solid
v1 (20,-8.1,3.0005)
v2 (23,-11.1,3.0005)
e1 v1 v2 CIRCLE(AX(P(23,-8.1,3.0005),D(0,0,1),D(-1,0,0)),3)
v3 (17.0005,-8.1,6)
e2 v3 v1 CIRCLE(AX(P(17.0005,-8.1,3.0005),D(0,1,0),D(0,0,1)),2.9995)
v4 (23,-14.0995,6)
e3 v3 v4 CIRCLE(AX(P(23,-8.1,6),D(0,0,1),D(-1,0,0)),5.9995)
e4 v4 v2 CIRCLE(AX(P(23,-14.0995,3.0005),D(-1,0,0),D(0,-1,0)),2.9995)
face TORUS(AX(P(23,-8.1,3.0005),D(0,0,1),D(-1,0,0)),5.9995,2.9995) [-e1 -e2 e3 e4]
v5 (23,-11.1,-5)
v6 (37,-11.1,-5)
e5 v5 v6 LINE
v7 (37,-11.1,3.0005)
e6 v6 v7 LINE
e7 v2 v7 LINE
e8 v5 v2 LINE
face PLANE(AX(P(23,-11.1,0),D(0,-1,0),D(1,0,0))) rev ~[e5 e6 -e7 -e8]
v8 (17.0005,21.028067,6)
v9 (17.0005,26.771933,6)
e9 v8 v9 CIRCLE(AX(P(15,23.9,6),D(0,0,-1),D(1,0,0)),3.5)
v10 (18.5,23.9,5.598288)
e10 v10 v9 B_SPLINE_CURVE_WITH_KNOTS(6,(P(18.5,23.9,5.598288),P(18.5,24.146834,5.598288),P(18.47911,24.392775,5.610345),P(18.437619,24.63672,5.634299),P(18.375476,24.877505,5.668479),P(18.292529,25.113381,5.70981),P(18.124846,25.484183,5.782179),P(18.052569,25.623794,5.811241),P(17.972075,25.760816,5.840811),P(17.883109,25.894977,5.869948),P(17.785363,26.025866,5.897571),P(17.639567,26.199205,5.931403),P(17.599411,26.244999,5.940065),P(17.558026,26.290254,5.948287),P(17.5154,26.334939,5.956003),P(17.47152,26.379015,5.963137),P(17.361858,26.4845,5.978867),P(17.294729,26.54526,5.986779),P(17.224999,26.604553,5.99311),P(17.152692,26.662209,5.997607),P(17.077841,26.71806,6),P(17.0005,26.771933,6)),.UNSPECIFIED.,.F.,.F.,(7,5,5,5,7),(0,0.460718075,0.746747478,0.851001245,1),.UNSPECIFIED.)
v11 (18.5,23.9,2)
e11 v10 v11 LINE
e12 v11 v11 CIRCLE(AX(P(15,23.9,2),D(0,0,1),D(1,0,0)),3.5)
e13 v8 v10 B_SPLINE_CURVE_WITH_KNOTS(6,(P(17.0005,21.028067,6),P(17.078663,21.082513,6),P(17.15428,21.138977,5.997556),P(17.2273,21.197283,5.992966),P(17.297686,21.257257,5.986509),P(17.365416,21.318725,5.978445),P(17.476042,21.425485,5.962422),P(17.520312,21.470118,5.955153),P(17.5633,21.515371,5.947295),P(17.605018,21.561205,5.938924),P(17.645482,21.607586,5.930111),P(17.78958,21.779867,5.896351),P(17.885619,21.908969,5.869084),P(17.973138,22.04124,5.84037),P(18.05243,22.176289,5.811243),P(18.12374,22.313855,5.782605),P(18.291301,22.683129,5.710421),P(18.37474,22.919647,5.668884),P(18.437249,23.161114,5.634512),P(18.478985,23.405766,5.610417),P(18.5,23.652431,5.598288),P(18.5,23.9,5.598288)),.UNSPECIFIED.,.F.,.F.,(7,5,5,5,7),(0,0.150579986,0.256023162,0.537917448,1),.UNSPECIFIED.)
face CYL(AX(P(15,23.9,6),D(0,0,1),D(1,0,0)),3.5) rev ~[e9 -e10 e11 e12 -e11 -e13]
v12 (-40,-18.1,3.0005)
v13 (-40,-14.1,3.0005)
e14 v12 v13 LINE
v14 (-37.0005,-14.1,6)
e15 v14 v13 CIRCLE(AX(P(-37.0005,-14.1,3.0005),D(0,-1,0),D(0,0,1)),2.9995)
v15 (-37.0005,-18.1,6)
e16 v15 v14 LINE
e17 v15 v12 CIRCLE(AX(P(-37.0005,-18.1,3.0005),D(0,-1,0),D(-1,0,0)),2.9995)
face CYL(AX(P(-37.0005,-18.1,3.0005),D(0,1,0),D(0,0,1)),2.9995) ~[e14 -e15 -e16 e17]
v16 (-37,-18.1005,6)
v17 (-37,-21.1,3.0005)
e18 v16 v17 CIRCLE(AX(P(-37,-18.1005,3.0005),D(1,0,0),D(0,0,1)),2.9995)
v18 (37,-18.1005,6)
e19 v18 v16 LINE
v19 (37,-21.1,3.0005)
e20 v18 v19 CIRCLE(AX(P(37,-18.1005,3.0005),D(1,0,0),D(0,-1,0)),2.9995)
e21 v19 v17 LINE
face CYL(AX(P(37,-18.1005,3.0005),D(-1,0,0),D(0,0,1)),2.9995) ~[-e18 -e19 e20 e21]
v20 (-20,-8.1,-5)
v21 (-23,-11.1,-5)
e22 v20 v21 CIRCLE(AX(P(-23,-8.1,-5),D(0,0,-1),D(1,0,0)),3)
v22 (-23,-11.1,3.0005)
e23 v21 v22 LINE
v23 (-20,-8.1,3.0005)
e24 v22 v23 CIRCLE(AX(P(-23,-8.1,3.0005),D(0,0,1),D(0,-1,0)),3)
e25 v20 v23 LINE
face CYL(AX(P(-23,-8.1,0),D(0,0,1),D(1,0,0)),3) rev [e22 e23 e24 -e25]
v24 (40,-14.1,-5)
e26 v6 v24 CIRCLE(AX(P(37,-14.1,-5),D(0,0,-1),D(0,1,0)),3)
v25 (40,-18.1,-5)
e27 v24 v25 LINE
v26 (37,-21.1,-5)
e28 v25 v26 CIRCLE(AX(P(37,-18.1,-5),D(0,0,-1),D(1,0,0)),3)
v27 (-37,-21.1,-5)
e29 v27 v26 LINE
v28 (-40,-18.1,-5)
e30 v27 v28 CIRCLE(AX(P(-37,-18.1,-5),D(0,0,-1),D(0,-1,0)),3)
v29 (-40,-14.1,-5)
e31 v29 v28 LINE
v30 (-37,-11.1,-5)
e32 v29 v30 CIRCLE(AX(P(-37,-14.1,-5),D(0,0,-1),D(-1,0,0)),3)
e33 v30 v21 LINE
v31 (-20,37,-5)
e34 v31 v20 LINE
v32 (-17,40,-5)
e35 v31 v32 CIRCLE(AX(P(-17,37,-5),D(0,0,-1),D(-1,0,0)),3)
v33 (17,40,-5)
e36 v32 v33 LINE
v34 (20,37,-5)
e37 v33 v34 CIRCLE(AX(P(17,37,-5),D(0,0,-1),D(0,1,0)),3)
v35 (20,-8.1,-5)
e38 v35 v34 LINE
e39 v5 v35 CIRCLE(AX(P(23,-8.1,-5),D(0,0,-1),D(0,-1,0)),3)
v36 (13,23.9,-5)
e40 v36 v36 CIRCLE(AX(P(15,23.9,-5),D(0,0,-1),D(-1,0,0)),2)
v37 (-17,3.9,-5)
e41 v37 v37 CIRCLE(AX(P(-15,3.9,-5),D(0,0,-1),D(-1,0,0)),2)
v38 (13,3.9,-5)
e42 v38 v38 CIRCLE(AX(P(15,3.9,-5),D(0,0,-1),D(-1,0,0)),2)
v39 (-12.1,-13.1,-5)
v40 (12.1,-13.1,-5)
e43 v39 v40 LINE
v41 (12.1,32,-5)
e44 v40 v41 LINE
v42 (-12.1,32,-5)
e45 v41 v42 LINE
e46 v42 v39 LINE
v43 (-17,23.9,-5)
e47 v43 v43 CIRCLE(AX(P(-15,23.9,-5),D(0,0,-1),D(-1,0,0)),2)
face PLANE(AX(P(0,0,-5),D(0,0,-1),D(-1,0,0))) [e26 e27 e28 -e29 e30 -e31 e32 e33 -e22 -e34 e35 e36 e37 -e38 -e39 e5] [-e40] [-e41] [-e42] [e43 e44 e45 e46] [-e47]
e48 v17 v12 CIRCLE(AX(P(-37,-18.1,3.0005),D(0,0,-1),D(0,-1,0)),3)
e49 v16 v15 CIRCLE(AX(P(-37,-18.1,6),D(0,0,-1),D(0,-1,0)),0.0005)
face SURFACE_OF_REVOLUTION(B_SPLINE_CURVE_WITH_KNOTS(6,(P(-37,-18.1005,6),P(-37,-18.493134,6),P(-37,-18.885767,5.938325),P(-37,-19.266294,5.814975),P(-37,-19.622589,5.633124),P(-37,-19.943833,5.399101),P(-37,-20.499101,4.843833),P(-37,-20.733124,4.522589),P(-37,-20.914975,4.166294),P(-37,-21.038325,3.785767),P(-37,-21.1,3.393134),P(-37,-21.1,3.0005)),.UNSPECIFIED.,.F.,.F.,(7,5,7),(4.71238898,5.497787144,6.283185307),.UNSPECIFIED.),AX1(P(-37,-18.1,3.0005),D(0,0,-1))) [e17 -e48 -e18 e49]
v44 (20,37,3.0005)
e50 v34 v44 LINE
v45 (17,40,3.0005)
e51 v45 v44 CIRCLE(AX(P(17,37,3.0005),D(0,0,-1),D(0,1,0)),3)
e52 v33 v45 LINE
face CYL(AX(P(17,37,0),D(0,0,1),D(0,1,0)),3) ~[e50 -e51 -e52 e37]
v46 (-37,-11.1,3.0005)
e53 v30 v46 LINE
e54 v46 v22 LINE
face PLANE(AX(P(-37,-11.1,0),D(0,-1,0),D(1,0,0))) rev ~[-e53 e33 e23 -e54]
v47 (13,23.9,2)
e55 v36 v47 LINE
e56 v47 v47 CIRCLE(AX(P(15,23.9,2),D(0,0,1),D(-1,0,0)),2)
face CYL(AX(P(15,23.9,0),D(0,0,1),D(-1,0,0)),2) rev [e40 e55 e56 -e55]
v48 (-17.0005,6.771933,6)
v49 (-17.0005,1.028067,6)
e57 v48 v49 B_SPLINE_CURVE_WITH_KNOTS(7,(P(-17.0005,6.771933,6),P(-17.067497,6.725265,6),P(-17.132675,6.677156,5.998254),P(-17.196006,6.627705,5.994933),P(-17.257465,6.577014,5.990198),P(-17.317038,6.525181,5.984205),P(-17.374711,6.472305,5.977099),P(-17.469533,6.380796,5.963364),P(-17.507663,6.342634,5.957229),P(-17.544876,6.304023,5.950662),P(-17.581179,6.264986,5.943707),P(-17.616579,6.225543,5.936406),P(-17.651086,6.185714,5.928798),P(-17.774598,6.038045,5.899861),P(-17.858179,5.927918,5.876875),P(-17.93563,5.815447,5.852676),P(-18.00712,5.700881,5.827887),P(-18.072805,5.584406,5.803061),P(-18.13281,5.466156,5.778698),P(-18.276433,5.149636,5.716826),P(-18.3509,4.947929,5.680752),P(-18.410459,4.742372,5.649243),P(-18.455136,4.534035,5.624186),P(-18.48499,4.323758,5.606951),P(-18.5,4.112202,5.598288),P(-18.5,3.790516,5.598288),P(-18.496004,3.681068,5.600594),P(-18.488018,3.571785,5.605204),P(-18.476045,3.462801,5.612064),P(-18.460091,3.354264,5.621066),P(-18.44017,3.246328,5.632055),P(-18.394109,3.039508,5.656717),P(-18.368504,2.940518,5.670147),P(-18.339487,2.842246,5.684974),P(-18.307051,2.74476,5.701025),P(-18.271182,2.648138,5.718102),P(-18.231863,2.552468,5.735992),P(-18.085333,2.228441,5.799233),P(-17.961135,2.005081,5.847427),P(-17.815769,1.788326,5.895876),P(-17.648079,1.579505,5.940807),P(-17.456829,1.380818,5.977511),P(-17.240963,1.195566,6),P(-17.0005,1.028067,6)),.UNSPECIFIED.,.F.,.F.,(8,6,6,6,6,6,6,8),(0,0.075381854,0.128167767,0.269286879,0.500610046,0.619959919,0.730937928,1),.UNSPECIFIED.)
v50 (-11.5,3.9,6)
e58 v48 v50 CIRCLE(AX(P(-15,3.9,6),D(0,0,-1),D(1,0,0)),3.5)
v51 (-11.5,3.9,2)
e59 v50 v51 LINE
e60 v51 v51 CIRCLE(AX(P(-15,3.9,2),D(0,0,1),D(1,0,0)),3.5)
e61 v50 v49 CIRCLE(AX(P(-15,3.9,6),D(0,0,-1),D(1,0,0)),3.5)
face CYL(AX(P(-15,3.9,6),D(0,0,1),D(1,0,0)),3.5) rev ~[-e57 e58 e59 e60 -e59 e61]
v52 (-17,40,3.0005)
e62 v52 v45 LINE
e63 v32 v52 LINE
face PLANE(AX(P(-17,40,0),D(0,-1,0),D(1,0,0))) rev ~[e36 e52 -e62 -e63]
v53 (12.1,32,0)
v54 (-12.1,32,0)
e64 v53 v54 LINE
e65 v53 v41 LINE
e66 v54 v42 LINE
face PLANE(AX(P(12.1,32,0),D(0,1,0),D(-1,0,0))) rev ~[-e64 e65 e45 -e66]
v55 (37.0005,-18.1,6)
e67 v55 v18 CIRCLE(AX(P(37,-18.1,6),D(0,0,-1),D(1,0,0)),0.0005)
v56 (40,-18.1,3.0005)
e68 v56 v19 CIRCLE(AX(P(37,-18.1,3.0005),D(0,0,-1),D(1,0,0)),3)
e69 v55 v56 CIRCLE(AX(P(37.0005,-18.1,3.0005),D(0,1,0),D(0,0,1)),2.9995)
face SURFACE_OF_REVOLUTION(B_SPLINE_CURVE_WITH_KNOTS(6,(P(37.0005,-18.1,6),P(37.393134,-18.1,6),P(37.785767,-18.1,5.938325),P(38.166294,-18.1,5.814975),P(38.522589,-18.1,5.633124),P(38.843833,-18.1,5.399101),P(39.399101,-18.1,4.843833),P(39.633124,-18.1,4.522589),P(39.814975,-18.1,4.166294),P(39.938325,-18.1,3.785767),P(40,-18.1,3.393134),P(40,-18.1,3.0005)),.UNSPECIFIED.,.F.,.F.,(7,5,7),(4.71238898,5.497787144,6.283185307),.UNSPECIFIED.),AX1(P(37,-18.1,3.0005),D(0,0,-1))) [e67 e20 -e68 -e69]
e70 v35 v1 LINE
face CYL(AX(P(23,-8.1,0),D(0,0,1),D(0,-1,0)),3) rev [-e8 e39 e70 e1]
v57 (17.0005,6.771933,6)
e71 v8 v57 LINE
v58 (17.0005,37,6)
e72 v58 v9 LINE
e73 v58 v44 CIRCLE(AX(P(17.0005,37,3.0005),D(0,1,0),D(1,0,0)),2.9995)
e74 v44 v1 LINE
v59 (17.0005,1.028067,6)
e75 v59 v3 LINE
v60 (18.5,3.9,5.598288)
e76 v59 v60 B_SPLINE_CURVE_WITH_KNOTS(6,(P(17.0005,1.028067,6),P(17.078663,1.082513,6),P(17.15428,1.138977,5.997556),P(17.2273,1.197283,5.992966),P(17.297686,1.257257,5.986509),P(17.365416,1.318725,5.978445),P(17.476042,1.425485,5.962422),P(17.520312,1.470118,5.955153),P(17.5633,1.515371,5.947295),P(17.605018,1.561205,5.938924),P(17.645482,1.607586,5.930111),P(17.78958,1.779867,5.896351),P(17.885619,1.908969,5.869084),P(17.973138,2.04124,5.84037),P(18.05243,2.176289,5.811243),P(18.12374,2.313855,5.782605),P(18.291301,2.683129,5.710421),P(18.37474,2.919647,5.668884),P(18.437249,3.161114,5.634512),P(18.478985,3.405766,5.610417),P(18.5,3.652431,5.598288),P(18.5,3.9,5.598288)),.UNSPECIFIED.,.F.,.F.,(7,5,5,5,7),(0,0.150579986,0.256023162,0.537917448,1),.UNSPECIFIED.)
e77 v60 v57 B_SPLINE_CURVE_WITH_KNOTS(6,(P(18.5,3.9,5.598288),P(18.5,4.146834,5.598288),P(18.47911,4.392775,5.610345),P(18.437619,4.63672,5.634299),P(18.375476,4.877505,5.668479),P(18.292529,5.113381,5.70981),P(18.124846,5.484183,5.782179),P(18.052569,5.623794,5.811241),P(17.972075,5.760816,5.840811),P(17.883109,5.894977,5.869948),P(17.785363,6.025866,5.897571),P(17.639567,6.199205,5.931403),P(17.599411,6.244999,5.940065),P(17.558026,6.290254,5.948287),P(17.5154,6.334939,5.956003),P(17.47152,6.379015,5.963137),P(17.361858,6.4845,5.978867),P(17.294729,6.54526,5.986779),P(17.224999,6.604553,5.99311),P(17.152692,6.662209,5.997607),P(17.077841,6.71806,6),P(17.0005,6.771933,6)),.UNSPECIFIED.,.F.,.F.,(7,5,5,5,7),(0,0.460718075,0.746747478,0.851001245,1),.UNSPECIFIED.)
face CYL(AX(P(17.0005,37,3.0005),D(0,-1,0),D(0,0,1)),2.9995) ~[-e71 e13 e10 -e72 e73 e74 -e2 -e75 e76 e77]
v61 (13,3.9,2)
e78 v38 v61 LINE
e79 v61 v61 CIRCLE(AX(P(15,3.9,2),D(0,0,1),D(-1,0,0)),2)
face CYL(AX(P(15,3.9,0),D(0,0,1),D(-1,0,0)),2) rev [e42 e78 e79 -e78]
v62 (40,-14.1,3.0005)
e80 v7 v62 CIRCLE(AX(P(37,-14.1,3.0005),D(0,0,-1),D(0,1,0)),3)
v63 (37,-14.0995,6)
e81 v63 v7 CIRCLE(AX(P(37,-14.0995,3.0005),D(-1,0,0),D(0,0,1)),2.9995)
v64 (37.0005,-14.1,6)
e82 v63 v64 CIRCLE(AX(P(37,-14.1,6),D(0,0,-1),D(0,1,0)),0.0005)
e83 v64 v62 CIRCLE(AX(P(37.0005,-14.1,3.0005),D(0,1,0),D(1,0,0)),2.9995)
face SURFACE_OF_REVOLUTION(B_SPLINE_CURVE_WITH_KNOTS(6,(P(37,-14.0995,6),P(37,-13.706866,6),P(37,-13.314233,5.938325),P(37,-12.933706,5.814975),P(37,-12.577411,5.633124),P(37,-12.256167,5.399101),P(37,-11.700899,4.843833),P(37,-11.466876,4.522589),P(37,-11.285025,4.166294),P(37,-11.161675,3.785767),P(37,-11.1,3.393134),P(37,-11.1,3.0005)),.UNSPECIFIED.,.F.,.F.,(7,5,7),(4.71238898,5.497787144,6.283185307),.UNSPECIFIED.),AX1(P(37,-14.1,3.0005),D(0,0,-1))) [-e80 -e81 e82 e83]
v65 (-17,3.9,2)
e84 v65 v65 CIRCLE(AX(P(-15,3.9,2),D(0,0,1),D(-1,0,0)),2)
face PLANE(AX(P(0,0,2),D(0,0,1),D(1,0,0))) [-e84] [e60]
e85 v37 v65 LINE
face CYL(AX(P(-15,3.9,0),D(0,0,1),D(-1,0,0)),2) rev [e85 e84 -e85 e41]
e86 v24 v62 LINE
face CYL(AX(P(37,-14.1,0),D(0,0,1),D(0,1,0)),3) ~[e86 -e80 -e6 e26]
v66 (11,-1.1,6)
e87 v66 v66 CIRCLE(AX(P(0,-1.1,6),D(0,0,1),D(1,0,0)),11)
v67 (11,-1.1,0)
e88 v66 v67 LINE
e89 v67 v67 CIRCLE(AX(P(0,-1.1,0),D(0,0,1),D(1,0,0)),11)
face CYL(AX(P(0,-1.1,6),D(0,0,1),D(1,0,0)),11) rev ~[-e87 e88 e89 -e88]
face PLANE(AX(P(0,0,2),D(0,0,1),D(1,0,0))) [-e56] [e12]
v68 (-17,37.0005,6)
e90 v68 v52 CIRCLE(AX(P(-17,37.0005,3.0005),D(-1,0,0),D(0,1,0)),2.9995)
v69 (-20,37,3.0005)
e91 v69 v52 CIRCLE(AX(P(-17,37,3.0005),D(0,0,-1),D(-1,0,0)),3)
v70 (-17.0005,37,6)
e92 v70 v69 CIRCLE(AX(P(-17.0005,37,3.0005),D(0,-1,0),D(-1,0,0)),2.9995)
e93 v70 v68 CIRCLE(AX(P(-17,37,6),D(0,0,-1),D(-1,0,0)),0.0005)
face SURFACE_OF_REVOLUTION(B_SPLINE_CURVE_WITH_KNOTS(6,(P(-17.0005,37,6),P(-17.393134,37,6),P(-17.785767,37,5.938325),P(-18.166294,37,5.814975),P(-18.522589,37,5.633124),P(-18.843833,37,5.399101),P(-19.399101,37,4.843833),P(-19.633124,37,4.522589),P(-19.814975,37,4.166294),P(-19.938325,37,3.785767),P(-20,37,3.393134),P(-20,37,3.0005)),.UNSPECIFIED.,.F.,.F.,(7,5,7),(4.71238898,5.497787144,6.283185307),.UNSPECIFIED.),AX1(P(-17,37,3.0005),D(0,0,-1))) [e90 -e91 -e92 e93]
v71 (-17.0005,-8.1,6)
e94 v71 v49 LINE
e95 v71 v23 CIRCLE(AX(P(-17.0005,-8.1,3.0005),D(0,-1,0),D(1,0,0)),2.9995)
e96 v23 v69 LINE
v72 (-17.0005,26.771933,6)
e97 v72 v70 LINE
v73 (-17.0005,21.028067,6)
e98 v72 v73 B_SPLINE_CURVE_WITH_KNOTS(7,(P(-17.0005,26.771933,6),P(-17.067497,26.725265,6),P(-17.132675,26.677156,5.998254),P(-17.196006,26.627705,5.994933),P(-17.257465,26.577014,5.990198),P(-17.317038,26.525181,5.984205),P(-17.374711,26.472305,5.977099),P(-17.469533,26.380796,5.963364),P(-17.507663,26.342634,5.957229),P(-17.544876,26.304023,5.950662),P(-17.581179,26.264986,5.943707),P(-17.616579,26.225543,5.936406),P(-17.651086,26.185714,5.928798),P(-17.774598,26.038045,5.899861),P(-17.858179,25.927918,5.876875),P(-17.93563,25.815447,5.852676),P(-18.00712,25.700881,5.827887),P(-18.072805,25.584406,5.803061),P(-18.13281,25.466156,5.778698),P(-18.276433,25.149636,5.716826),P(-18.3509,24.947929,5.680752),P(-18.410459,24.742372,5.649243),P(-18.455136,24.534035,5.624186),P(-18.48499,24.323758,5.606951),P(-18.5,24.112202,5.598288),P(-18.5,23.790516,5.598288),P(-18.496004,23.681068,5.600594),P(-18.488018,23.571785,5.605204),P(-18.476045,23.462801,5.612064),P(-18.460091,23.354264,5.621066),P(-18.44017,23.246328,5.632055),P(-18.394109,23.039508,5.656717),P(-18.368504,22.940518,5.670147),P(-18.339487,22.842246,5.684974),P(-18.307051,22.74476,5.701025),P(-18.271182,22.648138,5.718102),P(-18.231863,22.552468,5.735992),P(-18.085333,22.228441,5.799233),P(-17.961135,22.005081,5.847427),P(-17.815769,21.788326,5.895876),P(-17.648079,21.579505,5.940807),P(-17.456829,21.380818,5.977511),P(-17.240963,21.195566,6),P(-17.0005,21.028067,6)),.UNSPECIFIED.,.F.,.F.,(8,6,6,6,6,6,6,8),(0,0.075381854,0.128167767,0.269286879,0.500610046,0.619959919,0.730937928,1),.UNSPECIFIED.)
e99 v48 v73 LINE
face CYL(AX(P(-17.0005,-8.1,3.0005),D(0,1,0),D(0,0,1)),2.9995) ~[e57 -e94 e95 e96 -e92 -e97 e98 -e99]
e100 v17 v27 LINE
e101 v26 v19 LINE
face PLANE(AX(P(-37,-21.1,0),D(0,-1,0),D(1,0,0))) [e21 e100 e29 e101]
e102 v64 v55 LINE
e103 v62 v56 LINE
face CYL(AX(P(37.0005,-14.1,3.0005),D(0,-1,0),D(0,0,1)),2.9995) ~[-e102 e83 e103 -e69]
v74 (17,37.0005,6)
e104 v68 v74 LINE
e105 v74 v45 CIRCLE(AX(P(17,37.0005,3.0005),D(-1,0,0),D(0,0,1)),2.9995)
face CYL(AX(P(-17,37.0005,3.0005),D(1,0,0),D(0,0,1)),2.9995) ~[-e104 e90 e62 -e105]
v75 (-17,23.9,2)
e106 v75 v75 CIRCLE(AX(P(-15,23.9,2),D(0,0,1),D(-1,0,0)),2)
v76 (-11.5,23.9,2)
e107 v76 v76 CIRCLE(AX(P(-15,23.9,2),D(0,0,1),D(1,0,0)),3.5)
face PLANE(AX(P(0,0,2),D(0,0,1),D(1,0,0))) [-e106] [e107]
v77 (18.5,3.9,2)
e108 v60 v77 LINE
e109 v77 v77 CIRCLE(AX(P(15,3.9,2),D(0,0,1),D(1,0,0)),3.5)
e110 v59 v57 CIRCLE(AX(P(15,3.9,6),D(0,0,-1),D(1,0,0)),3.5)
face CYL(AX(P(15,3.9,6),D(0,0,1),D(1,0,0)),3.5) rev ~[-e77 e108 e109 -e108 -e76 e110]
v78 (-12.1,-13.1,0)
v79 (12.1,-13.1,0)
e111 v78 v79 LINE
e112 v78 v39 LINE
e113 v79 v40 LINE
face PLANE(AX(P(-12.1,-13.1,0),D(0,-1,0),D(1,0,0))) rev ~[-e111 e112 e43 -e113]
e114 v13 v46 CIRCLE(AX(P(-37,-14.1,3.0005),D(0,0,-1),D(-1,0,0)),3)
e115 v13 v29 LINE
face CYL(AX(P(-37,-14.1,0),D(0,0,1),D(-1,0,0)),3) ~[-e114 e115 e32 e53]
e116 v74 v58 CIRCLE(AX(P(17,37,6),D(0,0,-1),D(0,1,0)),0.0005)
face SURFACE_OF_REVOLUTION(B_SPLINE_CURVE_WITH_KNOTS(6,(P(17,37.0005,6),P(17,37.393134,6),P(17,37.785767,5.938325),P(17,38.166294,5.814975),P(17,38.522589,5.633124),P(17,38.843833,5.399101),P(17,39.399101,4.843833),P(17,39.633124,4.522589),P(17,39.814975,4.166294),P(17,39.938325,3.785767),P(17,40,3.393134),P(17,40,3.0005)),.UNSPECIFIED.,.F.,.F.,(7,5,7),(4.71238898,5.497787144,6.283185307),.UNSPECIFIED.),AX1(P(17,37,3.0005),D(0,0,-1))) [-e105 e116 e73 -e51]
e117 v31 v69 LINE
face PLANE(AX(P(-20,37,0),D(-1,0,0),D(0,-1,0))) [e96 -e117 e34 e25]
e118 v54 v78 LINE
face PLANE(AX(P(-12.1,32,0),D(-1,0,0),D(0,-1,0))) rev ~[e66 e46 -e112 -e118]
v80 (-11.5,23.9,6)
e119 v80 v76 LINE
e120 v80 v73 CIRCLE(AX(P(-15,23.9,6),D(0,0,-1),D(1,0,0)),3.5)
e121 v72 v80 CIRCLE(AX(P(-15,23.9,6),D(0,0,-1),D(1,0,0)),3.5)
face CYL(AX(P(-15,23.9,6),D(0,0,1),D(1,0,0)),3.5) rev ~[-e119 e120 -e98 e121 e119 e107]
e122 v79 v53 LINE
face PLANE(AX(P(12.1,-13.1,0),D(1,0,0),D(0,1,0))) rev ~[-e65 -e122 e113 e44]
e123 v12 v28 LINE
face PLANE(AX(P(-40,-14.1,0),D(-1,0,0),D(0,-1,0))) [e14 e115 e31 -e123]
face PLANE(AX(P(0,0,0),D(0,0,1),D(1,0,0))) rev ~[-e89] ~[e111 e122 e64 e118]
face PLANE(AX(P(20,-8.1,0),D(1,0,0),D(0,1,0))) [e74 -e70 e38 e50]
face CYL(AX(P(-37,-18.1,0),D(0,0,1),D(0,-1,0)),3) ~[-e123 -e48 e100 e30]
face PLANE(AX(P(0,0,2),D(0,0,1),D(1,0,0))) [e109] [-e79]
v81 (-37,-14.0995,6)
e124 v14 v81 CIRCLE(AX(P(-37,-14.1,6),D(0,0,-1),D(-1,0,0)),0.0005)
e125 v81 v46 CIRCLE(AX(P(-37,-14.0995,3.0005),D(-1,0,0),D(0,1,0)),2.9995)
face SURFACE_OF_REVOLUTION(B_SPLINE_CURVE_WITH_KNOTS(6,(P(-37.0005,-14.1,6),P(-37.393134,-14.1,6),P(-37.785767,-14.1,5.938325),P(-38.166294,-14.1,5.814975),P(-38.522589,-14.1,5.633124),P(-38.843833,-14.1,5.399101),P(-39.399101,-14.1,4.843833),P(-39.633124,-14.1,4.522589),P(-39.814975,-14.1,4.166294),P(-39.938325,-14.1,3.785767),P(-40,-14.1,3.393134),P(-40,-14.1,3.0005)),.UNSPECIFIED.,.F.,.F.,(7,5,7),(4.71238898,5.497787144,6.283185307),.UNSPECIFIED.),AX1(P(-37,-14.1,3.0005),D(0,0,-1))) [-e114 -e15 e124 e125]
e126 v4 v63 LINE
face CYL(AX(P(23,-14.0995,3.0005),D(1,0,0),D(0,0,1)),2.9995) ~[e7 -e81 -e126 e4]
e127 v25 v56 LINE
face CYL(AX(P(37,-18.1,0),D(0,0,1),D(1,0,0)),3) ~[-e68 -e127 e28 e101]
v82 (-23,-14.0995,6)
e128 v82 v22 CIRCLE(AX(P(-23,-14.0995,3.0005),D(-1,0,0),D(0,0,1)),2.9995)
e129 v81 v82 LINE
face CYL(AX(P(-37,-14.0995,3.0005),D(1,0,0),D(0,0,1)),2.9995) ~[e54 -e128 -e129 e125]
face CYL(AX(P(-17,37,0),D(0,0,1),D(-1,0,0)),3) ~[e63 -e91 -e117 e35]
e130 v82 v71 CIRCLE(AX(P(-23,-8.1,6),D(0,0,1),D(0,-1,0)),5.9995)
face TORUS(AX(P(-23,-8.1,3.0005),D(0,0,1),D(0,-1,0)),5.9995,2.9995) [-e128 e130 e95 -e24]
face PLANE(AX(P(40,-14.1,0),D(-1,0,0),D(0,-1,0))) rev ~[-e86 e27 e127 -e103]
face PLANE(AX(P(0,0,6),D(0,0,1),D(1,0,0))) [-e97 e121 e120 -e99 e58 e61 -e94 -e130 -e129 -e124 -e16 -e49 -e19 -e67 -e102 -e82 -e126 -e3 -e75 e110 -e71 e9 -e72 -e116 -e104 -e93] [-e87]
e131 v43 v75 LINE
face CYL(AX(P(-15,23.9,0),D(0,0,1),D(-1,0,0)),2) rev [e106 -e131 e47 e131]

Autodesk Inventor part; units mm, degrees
ref_plane "YZ Plane" through (0, 0, 0) normal (1, 0, 0) x (0, 1, 0)
ref_plane "XZ Plane" through (0, 0, 0) normal (0, 1, 0) x (-1, 0, 0)
ref_plane "XY Plane" through (0, 0, 0) normal (0, 0, 1) x (1, 0, 0)
sketch "Sketch1" plane through (0, 0, 0) normal (0, 0, 1) x (1, 0, 0)
  line L0 (-40, -40) -> (40, -40)
  line L1 (40, -40) -> (40, 40)
  line L2 (40, 40) -> (-40, 40)
  line L3 (-40, 40) -> (-40, -40)
  line L4 (-40, -40) -> (40, 40) construction
  line L5 (40, -40) -> (-40, 40) construction
  point P0 (0, 0)
  dimension "d0" = 80
  dimension "d1" = 80
extrude "Extrusion1" add sketch "Sketch1" along normal blind 6
sketch "Sketch2" plane through (0, 0, 0) normal (0, 0, -1) x (-1, 0, 0)
  arc A0 (37, -21.1) -> (40, -18.1) centre (37, -18.1) ccw projected
  line L0 (37, -21.1) -> (-37, -21.1) projected
  arc A1 (-40, -18.1) -> (-37, -21.1) centre (-37, -18.1) ccw projected
  line L1 (-40, -14.1) -> (-40, -18.1) projected
  arc A2 (-37, -11.1) -> (-40, -14.1) centre (-37, -14.1) ccw projected
  line L2 (-23, -11.1) -> (-37, -11.1) projected
  arc A3 (-23, -11.1) -> (-20, -8.1) centre (-23, -8.1) ccw projected
  line L3 (-20, -8.1) -> (-20, 37) projected
  arc A4 (-17, 40) -> (-20, 37) centre (-17, 37) ccw projected
  line L4 (17, 40) -> (-17, 40) projected
  arc A5 (20, 37) -> (17, 40) centre (17, 37) ccw projected
  line L5 (20, 37) -> (20, -8.1) projected
  arc A6 (20, -8.1) -> (23, -11.1) centre (23, -8.1) ccw projected
  line L6 (37, -11.1) -> (23, -11.1) projected
  arc A7 (40, -14.1) -> (37, -11.1) centre (37, -14.1) ccw projected
  line L7 (40, -14.1) -> (40, -18.1) projected
  circle A8 centre (15, 3.9) radius 2 projected
  circle A9 centre (-15, 3.9) radius 2 projected
  circle A10 centre (15, 23.9) radius 2 projected
  circle A11 centre (-15, 23.9) radius 2 projected
  line L8 (12.1, 32) -> (12.1, -13.1) projected
  line L9 (-12.1, 32) -> (12.1, 32) projected
  line L10 (-12.1, -13.1) -> (-12.1, 32) projected
  line L11 (12.1, -13.1) -> (-12.1, -13.1) projected
  circle A12 centre (0, -1.1) radius 7.5 projected
  line L12 (-40, -40) -> (40, -40)
  line L13 (40, -40) -> (40, 40)
  line L14 (40, 40) -> (-40, 40)
  line L15 (-40, 40) -> (-40, -40)
  line L16 (-40, -40) -> (40, 40) construction
  line L17 (40, -40) -> (-40, 40) construction
  line L18 (-40, 40) -> (40, 40) projected
  line L19 (40, 40) -> (40, -40) projected
  line L20 (-40, -40) -> (-40, 40) projected
  line L21 (40, -40) -> (-40, -40) projected
  point P0 (0, 0)
  point P1 (0, 0)
  point P2 (-40, -18.1)
extrude "Extrusion2" cut sketch "Sketch2" against normal blind 6 contours A0 L13 L12 L15 A1 L0 | A7 L6 A6 L5 A5 L14 L13 | L15 L14 A4 L3 A3 L2 A2 | A8 | A9 | A10 | A11 | A12
sketch "Sketch3" plane through (0, 0, 0) normal (0, 0, -1) x (-1, 0, 0)
  arc A0 (37, -21.1) -> (40, -18.1) centre (37, -18.1) ccw projected
  line L0 (37, -21.1) -> (-37, -21.1) projected
  arc A1 (-40, -18.1) -> (-37, -21.1) centre (-37, -18.1) ccw projected
  line L1 (-40, -14.1) -> (-40, -18.1) projected
  arc A2 (-37, -11.1) -> (-40, -14.1) centre (-37, -14.1) ccw projected
  line L2 (-23, -11.1) -> (-37, -11.1) projected
  arc A3 (-23, -11.1) -> (-20, -8.1) centre (-23, -8.1) ccw projected
  line L3 (-20, -8.1) -> (-20, 37) projected
  arc A4 (-17, 40) -> (-20, 37) centre (-17, 37) ccw projected
  line L4 (17, 40) -> (-17, 40) projected
  arc A5 (20, 37) -> (17, 40) centre (17, 37) ccw projected
  line L5 (20, 37) -> (20, -8.1) projected
  arc A6 (20, -8.1) -> (23, -11.1) centre (23, -8.1) ccw projected
  line L6 (37, -11.1) -> (23, -11.1) projected
  arc A7 (40, -14.1) -> (37, -11.1) centre (37, -14.1) ccw projected
  line L7 (40, -14.1) -> (40, -18.1) projected
  circle A8 centre (15, 3.9) radius 2 projected
  circle A9 centre (-15, 3.9) radius 2 projected
  circle A10 centre (15, 23.9) radius 2 projected
  circle A11 centre (-15, 23.9) radius 2 projected
  line L8 (12.1, 32) -> (12.1, -13.1) projected
  line L9 (-12.1, 32) -> (12.1, 32) projected
  line L10 (-12.1, -13.1) -> (-12.1, 32) projected
  line L11 (12.1, -13.1) -> (-12.1, -13.1) projected
  point P0 (0, 0)
extrude "Extrusion3" add sketch "Sketch3" along normal blind 5
sketch "Sketch4" plane through (0, 0, 6) normal (0, 0, 1) x (1, 0, 0)
  circle A0 centre (0, -1.1) radius 7.5 projected
  circle A1 centre (0, -1.1) radius 11
  point P0 (0, 0)
  dimension "d8" = 22
extrude "Extrusion4" cut sketch "Sketch4" against normal through all
fillet "Fillet1" radius 3 16 edges at (-19.1213, 39.1213, 6) (-20, 14.45, 6) (-20.8787, -10.2213, 6) (-30, -11.1, 6) (-39.1213, -11.9787, 6) (-40, -16.1, 6) (-39.1213, -20.2213, 6) (0, -21.1, 6) (39.1213, -20.2213, 6) (40, -16.1, 6) (39.1213, -11.9787, 6) (30, -11.1, 6) (20.8787, -10.2213, 6) (20, 14.45, 6) (19.1213, 39.1213, 6) (0, 40, 6)
sketch "Sketch5" plane through (0, 0, 6) normal (0, 0, 1) x (1, 0, 0)
  circle A0 centre (-15, 23.9) radius 2 projected
  line L0 (-17, 3.9) -> (-17, 23.9) projected
  circle A1 centre (-15, 3.9) radius 2 projected
  line L1 (-17, -8.1) -> (-17, 3.9) projected
  arc A2 (-23, -14.1) -> (-17, -8.1) centre (-23, -8.1) ccw projected
  line L2 (-37, -14.1) -> (-23, -14.1) projected
  line L3 (-37, -18.1) -> (-37, -14.1) projected
  line L4 (37, -18.1) -> (-37, -18.1) projected
  line L5 (37, -14.1) -> (37, -18.1) projected
  line L6 (23, -14.1) -> (37, -14.1) projected
  arc A3 (17, -8.1) -> (23, -14.1) centre (23, -8.1) ccw projected
  line L7 (17, 3.9) -> (17, -8.1) projected
  circle A4 centre (15, 3.9) radius 2 projected
  line L8 (17, 23.9) -> (17, 3.9) projected
  circle A5 centre (15, 23.9) radius 2 projected
  line L9 (17, 37) -> (17, 23.9) projected
  line L10 (-17, 37) -> (17, 37) projected
  line L11 (-17, 23.9) -> (-17, 37) projected
  circle A6 centre (0, -1.1) radius 11 projected
  circle A7 centre (-15, 23.9) radius 3.5
  circle A8 centre (15, 23.9) radius 3.5
  circle A9 centre (-15, 3.9) radius 3.5
  circle A10 centre (15, 3.9) radius 3.5
  point P0 (0, 0)
  dimension "d12" = 7
  dimension "d13" = 7
  dimension "d14" = 7
  dimension "d15" = 7
extrude "Extrusion5" cut sketch "Sketch5" against normal blind 4 contours L11 A7 L0 | L0 A7 L11 | A9 L1 L0 | L0 L1 A9 | A8 L8 L9 | L9 L8 A8 | A10 L7 L8 | L8 L7 A10
properties part number "stopper_motor_bracket_cover"
